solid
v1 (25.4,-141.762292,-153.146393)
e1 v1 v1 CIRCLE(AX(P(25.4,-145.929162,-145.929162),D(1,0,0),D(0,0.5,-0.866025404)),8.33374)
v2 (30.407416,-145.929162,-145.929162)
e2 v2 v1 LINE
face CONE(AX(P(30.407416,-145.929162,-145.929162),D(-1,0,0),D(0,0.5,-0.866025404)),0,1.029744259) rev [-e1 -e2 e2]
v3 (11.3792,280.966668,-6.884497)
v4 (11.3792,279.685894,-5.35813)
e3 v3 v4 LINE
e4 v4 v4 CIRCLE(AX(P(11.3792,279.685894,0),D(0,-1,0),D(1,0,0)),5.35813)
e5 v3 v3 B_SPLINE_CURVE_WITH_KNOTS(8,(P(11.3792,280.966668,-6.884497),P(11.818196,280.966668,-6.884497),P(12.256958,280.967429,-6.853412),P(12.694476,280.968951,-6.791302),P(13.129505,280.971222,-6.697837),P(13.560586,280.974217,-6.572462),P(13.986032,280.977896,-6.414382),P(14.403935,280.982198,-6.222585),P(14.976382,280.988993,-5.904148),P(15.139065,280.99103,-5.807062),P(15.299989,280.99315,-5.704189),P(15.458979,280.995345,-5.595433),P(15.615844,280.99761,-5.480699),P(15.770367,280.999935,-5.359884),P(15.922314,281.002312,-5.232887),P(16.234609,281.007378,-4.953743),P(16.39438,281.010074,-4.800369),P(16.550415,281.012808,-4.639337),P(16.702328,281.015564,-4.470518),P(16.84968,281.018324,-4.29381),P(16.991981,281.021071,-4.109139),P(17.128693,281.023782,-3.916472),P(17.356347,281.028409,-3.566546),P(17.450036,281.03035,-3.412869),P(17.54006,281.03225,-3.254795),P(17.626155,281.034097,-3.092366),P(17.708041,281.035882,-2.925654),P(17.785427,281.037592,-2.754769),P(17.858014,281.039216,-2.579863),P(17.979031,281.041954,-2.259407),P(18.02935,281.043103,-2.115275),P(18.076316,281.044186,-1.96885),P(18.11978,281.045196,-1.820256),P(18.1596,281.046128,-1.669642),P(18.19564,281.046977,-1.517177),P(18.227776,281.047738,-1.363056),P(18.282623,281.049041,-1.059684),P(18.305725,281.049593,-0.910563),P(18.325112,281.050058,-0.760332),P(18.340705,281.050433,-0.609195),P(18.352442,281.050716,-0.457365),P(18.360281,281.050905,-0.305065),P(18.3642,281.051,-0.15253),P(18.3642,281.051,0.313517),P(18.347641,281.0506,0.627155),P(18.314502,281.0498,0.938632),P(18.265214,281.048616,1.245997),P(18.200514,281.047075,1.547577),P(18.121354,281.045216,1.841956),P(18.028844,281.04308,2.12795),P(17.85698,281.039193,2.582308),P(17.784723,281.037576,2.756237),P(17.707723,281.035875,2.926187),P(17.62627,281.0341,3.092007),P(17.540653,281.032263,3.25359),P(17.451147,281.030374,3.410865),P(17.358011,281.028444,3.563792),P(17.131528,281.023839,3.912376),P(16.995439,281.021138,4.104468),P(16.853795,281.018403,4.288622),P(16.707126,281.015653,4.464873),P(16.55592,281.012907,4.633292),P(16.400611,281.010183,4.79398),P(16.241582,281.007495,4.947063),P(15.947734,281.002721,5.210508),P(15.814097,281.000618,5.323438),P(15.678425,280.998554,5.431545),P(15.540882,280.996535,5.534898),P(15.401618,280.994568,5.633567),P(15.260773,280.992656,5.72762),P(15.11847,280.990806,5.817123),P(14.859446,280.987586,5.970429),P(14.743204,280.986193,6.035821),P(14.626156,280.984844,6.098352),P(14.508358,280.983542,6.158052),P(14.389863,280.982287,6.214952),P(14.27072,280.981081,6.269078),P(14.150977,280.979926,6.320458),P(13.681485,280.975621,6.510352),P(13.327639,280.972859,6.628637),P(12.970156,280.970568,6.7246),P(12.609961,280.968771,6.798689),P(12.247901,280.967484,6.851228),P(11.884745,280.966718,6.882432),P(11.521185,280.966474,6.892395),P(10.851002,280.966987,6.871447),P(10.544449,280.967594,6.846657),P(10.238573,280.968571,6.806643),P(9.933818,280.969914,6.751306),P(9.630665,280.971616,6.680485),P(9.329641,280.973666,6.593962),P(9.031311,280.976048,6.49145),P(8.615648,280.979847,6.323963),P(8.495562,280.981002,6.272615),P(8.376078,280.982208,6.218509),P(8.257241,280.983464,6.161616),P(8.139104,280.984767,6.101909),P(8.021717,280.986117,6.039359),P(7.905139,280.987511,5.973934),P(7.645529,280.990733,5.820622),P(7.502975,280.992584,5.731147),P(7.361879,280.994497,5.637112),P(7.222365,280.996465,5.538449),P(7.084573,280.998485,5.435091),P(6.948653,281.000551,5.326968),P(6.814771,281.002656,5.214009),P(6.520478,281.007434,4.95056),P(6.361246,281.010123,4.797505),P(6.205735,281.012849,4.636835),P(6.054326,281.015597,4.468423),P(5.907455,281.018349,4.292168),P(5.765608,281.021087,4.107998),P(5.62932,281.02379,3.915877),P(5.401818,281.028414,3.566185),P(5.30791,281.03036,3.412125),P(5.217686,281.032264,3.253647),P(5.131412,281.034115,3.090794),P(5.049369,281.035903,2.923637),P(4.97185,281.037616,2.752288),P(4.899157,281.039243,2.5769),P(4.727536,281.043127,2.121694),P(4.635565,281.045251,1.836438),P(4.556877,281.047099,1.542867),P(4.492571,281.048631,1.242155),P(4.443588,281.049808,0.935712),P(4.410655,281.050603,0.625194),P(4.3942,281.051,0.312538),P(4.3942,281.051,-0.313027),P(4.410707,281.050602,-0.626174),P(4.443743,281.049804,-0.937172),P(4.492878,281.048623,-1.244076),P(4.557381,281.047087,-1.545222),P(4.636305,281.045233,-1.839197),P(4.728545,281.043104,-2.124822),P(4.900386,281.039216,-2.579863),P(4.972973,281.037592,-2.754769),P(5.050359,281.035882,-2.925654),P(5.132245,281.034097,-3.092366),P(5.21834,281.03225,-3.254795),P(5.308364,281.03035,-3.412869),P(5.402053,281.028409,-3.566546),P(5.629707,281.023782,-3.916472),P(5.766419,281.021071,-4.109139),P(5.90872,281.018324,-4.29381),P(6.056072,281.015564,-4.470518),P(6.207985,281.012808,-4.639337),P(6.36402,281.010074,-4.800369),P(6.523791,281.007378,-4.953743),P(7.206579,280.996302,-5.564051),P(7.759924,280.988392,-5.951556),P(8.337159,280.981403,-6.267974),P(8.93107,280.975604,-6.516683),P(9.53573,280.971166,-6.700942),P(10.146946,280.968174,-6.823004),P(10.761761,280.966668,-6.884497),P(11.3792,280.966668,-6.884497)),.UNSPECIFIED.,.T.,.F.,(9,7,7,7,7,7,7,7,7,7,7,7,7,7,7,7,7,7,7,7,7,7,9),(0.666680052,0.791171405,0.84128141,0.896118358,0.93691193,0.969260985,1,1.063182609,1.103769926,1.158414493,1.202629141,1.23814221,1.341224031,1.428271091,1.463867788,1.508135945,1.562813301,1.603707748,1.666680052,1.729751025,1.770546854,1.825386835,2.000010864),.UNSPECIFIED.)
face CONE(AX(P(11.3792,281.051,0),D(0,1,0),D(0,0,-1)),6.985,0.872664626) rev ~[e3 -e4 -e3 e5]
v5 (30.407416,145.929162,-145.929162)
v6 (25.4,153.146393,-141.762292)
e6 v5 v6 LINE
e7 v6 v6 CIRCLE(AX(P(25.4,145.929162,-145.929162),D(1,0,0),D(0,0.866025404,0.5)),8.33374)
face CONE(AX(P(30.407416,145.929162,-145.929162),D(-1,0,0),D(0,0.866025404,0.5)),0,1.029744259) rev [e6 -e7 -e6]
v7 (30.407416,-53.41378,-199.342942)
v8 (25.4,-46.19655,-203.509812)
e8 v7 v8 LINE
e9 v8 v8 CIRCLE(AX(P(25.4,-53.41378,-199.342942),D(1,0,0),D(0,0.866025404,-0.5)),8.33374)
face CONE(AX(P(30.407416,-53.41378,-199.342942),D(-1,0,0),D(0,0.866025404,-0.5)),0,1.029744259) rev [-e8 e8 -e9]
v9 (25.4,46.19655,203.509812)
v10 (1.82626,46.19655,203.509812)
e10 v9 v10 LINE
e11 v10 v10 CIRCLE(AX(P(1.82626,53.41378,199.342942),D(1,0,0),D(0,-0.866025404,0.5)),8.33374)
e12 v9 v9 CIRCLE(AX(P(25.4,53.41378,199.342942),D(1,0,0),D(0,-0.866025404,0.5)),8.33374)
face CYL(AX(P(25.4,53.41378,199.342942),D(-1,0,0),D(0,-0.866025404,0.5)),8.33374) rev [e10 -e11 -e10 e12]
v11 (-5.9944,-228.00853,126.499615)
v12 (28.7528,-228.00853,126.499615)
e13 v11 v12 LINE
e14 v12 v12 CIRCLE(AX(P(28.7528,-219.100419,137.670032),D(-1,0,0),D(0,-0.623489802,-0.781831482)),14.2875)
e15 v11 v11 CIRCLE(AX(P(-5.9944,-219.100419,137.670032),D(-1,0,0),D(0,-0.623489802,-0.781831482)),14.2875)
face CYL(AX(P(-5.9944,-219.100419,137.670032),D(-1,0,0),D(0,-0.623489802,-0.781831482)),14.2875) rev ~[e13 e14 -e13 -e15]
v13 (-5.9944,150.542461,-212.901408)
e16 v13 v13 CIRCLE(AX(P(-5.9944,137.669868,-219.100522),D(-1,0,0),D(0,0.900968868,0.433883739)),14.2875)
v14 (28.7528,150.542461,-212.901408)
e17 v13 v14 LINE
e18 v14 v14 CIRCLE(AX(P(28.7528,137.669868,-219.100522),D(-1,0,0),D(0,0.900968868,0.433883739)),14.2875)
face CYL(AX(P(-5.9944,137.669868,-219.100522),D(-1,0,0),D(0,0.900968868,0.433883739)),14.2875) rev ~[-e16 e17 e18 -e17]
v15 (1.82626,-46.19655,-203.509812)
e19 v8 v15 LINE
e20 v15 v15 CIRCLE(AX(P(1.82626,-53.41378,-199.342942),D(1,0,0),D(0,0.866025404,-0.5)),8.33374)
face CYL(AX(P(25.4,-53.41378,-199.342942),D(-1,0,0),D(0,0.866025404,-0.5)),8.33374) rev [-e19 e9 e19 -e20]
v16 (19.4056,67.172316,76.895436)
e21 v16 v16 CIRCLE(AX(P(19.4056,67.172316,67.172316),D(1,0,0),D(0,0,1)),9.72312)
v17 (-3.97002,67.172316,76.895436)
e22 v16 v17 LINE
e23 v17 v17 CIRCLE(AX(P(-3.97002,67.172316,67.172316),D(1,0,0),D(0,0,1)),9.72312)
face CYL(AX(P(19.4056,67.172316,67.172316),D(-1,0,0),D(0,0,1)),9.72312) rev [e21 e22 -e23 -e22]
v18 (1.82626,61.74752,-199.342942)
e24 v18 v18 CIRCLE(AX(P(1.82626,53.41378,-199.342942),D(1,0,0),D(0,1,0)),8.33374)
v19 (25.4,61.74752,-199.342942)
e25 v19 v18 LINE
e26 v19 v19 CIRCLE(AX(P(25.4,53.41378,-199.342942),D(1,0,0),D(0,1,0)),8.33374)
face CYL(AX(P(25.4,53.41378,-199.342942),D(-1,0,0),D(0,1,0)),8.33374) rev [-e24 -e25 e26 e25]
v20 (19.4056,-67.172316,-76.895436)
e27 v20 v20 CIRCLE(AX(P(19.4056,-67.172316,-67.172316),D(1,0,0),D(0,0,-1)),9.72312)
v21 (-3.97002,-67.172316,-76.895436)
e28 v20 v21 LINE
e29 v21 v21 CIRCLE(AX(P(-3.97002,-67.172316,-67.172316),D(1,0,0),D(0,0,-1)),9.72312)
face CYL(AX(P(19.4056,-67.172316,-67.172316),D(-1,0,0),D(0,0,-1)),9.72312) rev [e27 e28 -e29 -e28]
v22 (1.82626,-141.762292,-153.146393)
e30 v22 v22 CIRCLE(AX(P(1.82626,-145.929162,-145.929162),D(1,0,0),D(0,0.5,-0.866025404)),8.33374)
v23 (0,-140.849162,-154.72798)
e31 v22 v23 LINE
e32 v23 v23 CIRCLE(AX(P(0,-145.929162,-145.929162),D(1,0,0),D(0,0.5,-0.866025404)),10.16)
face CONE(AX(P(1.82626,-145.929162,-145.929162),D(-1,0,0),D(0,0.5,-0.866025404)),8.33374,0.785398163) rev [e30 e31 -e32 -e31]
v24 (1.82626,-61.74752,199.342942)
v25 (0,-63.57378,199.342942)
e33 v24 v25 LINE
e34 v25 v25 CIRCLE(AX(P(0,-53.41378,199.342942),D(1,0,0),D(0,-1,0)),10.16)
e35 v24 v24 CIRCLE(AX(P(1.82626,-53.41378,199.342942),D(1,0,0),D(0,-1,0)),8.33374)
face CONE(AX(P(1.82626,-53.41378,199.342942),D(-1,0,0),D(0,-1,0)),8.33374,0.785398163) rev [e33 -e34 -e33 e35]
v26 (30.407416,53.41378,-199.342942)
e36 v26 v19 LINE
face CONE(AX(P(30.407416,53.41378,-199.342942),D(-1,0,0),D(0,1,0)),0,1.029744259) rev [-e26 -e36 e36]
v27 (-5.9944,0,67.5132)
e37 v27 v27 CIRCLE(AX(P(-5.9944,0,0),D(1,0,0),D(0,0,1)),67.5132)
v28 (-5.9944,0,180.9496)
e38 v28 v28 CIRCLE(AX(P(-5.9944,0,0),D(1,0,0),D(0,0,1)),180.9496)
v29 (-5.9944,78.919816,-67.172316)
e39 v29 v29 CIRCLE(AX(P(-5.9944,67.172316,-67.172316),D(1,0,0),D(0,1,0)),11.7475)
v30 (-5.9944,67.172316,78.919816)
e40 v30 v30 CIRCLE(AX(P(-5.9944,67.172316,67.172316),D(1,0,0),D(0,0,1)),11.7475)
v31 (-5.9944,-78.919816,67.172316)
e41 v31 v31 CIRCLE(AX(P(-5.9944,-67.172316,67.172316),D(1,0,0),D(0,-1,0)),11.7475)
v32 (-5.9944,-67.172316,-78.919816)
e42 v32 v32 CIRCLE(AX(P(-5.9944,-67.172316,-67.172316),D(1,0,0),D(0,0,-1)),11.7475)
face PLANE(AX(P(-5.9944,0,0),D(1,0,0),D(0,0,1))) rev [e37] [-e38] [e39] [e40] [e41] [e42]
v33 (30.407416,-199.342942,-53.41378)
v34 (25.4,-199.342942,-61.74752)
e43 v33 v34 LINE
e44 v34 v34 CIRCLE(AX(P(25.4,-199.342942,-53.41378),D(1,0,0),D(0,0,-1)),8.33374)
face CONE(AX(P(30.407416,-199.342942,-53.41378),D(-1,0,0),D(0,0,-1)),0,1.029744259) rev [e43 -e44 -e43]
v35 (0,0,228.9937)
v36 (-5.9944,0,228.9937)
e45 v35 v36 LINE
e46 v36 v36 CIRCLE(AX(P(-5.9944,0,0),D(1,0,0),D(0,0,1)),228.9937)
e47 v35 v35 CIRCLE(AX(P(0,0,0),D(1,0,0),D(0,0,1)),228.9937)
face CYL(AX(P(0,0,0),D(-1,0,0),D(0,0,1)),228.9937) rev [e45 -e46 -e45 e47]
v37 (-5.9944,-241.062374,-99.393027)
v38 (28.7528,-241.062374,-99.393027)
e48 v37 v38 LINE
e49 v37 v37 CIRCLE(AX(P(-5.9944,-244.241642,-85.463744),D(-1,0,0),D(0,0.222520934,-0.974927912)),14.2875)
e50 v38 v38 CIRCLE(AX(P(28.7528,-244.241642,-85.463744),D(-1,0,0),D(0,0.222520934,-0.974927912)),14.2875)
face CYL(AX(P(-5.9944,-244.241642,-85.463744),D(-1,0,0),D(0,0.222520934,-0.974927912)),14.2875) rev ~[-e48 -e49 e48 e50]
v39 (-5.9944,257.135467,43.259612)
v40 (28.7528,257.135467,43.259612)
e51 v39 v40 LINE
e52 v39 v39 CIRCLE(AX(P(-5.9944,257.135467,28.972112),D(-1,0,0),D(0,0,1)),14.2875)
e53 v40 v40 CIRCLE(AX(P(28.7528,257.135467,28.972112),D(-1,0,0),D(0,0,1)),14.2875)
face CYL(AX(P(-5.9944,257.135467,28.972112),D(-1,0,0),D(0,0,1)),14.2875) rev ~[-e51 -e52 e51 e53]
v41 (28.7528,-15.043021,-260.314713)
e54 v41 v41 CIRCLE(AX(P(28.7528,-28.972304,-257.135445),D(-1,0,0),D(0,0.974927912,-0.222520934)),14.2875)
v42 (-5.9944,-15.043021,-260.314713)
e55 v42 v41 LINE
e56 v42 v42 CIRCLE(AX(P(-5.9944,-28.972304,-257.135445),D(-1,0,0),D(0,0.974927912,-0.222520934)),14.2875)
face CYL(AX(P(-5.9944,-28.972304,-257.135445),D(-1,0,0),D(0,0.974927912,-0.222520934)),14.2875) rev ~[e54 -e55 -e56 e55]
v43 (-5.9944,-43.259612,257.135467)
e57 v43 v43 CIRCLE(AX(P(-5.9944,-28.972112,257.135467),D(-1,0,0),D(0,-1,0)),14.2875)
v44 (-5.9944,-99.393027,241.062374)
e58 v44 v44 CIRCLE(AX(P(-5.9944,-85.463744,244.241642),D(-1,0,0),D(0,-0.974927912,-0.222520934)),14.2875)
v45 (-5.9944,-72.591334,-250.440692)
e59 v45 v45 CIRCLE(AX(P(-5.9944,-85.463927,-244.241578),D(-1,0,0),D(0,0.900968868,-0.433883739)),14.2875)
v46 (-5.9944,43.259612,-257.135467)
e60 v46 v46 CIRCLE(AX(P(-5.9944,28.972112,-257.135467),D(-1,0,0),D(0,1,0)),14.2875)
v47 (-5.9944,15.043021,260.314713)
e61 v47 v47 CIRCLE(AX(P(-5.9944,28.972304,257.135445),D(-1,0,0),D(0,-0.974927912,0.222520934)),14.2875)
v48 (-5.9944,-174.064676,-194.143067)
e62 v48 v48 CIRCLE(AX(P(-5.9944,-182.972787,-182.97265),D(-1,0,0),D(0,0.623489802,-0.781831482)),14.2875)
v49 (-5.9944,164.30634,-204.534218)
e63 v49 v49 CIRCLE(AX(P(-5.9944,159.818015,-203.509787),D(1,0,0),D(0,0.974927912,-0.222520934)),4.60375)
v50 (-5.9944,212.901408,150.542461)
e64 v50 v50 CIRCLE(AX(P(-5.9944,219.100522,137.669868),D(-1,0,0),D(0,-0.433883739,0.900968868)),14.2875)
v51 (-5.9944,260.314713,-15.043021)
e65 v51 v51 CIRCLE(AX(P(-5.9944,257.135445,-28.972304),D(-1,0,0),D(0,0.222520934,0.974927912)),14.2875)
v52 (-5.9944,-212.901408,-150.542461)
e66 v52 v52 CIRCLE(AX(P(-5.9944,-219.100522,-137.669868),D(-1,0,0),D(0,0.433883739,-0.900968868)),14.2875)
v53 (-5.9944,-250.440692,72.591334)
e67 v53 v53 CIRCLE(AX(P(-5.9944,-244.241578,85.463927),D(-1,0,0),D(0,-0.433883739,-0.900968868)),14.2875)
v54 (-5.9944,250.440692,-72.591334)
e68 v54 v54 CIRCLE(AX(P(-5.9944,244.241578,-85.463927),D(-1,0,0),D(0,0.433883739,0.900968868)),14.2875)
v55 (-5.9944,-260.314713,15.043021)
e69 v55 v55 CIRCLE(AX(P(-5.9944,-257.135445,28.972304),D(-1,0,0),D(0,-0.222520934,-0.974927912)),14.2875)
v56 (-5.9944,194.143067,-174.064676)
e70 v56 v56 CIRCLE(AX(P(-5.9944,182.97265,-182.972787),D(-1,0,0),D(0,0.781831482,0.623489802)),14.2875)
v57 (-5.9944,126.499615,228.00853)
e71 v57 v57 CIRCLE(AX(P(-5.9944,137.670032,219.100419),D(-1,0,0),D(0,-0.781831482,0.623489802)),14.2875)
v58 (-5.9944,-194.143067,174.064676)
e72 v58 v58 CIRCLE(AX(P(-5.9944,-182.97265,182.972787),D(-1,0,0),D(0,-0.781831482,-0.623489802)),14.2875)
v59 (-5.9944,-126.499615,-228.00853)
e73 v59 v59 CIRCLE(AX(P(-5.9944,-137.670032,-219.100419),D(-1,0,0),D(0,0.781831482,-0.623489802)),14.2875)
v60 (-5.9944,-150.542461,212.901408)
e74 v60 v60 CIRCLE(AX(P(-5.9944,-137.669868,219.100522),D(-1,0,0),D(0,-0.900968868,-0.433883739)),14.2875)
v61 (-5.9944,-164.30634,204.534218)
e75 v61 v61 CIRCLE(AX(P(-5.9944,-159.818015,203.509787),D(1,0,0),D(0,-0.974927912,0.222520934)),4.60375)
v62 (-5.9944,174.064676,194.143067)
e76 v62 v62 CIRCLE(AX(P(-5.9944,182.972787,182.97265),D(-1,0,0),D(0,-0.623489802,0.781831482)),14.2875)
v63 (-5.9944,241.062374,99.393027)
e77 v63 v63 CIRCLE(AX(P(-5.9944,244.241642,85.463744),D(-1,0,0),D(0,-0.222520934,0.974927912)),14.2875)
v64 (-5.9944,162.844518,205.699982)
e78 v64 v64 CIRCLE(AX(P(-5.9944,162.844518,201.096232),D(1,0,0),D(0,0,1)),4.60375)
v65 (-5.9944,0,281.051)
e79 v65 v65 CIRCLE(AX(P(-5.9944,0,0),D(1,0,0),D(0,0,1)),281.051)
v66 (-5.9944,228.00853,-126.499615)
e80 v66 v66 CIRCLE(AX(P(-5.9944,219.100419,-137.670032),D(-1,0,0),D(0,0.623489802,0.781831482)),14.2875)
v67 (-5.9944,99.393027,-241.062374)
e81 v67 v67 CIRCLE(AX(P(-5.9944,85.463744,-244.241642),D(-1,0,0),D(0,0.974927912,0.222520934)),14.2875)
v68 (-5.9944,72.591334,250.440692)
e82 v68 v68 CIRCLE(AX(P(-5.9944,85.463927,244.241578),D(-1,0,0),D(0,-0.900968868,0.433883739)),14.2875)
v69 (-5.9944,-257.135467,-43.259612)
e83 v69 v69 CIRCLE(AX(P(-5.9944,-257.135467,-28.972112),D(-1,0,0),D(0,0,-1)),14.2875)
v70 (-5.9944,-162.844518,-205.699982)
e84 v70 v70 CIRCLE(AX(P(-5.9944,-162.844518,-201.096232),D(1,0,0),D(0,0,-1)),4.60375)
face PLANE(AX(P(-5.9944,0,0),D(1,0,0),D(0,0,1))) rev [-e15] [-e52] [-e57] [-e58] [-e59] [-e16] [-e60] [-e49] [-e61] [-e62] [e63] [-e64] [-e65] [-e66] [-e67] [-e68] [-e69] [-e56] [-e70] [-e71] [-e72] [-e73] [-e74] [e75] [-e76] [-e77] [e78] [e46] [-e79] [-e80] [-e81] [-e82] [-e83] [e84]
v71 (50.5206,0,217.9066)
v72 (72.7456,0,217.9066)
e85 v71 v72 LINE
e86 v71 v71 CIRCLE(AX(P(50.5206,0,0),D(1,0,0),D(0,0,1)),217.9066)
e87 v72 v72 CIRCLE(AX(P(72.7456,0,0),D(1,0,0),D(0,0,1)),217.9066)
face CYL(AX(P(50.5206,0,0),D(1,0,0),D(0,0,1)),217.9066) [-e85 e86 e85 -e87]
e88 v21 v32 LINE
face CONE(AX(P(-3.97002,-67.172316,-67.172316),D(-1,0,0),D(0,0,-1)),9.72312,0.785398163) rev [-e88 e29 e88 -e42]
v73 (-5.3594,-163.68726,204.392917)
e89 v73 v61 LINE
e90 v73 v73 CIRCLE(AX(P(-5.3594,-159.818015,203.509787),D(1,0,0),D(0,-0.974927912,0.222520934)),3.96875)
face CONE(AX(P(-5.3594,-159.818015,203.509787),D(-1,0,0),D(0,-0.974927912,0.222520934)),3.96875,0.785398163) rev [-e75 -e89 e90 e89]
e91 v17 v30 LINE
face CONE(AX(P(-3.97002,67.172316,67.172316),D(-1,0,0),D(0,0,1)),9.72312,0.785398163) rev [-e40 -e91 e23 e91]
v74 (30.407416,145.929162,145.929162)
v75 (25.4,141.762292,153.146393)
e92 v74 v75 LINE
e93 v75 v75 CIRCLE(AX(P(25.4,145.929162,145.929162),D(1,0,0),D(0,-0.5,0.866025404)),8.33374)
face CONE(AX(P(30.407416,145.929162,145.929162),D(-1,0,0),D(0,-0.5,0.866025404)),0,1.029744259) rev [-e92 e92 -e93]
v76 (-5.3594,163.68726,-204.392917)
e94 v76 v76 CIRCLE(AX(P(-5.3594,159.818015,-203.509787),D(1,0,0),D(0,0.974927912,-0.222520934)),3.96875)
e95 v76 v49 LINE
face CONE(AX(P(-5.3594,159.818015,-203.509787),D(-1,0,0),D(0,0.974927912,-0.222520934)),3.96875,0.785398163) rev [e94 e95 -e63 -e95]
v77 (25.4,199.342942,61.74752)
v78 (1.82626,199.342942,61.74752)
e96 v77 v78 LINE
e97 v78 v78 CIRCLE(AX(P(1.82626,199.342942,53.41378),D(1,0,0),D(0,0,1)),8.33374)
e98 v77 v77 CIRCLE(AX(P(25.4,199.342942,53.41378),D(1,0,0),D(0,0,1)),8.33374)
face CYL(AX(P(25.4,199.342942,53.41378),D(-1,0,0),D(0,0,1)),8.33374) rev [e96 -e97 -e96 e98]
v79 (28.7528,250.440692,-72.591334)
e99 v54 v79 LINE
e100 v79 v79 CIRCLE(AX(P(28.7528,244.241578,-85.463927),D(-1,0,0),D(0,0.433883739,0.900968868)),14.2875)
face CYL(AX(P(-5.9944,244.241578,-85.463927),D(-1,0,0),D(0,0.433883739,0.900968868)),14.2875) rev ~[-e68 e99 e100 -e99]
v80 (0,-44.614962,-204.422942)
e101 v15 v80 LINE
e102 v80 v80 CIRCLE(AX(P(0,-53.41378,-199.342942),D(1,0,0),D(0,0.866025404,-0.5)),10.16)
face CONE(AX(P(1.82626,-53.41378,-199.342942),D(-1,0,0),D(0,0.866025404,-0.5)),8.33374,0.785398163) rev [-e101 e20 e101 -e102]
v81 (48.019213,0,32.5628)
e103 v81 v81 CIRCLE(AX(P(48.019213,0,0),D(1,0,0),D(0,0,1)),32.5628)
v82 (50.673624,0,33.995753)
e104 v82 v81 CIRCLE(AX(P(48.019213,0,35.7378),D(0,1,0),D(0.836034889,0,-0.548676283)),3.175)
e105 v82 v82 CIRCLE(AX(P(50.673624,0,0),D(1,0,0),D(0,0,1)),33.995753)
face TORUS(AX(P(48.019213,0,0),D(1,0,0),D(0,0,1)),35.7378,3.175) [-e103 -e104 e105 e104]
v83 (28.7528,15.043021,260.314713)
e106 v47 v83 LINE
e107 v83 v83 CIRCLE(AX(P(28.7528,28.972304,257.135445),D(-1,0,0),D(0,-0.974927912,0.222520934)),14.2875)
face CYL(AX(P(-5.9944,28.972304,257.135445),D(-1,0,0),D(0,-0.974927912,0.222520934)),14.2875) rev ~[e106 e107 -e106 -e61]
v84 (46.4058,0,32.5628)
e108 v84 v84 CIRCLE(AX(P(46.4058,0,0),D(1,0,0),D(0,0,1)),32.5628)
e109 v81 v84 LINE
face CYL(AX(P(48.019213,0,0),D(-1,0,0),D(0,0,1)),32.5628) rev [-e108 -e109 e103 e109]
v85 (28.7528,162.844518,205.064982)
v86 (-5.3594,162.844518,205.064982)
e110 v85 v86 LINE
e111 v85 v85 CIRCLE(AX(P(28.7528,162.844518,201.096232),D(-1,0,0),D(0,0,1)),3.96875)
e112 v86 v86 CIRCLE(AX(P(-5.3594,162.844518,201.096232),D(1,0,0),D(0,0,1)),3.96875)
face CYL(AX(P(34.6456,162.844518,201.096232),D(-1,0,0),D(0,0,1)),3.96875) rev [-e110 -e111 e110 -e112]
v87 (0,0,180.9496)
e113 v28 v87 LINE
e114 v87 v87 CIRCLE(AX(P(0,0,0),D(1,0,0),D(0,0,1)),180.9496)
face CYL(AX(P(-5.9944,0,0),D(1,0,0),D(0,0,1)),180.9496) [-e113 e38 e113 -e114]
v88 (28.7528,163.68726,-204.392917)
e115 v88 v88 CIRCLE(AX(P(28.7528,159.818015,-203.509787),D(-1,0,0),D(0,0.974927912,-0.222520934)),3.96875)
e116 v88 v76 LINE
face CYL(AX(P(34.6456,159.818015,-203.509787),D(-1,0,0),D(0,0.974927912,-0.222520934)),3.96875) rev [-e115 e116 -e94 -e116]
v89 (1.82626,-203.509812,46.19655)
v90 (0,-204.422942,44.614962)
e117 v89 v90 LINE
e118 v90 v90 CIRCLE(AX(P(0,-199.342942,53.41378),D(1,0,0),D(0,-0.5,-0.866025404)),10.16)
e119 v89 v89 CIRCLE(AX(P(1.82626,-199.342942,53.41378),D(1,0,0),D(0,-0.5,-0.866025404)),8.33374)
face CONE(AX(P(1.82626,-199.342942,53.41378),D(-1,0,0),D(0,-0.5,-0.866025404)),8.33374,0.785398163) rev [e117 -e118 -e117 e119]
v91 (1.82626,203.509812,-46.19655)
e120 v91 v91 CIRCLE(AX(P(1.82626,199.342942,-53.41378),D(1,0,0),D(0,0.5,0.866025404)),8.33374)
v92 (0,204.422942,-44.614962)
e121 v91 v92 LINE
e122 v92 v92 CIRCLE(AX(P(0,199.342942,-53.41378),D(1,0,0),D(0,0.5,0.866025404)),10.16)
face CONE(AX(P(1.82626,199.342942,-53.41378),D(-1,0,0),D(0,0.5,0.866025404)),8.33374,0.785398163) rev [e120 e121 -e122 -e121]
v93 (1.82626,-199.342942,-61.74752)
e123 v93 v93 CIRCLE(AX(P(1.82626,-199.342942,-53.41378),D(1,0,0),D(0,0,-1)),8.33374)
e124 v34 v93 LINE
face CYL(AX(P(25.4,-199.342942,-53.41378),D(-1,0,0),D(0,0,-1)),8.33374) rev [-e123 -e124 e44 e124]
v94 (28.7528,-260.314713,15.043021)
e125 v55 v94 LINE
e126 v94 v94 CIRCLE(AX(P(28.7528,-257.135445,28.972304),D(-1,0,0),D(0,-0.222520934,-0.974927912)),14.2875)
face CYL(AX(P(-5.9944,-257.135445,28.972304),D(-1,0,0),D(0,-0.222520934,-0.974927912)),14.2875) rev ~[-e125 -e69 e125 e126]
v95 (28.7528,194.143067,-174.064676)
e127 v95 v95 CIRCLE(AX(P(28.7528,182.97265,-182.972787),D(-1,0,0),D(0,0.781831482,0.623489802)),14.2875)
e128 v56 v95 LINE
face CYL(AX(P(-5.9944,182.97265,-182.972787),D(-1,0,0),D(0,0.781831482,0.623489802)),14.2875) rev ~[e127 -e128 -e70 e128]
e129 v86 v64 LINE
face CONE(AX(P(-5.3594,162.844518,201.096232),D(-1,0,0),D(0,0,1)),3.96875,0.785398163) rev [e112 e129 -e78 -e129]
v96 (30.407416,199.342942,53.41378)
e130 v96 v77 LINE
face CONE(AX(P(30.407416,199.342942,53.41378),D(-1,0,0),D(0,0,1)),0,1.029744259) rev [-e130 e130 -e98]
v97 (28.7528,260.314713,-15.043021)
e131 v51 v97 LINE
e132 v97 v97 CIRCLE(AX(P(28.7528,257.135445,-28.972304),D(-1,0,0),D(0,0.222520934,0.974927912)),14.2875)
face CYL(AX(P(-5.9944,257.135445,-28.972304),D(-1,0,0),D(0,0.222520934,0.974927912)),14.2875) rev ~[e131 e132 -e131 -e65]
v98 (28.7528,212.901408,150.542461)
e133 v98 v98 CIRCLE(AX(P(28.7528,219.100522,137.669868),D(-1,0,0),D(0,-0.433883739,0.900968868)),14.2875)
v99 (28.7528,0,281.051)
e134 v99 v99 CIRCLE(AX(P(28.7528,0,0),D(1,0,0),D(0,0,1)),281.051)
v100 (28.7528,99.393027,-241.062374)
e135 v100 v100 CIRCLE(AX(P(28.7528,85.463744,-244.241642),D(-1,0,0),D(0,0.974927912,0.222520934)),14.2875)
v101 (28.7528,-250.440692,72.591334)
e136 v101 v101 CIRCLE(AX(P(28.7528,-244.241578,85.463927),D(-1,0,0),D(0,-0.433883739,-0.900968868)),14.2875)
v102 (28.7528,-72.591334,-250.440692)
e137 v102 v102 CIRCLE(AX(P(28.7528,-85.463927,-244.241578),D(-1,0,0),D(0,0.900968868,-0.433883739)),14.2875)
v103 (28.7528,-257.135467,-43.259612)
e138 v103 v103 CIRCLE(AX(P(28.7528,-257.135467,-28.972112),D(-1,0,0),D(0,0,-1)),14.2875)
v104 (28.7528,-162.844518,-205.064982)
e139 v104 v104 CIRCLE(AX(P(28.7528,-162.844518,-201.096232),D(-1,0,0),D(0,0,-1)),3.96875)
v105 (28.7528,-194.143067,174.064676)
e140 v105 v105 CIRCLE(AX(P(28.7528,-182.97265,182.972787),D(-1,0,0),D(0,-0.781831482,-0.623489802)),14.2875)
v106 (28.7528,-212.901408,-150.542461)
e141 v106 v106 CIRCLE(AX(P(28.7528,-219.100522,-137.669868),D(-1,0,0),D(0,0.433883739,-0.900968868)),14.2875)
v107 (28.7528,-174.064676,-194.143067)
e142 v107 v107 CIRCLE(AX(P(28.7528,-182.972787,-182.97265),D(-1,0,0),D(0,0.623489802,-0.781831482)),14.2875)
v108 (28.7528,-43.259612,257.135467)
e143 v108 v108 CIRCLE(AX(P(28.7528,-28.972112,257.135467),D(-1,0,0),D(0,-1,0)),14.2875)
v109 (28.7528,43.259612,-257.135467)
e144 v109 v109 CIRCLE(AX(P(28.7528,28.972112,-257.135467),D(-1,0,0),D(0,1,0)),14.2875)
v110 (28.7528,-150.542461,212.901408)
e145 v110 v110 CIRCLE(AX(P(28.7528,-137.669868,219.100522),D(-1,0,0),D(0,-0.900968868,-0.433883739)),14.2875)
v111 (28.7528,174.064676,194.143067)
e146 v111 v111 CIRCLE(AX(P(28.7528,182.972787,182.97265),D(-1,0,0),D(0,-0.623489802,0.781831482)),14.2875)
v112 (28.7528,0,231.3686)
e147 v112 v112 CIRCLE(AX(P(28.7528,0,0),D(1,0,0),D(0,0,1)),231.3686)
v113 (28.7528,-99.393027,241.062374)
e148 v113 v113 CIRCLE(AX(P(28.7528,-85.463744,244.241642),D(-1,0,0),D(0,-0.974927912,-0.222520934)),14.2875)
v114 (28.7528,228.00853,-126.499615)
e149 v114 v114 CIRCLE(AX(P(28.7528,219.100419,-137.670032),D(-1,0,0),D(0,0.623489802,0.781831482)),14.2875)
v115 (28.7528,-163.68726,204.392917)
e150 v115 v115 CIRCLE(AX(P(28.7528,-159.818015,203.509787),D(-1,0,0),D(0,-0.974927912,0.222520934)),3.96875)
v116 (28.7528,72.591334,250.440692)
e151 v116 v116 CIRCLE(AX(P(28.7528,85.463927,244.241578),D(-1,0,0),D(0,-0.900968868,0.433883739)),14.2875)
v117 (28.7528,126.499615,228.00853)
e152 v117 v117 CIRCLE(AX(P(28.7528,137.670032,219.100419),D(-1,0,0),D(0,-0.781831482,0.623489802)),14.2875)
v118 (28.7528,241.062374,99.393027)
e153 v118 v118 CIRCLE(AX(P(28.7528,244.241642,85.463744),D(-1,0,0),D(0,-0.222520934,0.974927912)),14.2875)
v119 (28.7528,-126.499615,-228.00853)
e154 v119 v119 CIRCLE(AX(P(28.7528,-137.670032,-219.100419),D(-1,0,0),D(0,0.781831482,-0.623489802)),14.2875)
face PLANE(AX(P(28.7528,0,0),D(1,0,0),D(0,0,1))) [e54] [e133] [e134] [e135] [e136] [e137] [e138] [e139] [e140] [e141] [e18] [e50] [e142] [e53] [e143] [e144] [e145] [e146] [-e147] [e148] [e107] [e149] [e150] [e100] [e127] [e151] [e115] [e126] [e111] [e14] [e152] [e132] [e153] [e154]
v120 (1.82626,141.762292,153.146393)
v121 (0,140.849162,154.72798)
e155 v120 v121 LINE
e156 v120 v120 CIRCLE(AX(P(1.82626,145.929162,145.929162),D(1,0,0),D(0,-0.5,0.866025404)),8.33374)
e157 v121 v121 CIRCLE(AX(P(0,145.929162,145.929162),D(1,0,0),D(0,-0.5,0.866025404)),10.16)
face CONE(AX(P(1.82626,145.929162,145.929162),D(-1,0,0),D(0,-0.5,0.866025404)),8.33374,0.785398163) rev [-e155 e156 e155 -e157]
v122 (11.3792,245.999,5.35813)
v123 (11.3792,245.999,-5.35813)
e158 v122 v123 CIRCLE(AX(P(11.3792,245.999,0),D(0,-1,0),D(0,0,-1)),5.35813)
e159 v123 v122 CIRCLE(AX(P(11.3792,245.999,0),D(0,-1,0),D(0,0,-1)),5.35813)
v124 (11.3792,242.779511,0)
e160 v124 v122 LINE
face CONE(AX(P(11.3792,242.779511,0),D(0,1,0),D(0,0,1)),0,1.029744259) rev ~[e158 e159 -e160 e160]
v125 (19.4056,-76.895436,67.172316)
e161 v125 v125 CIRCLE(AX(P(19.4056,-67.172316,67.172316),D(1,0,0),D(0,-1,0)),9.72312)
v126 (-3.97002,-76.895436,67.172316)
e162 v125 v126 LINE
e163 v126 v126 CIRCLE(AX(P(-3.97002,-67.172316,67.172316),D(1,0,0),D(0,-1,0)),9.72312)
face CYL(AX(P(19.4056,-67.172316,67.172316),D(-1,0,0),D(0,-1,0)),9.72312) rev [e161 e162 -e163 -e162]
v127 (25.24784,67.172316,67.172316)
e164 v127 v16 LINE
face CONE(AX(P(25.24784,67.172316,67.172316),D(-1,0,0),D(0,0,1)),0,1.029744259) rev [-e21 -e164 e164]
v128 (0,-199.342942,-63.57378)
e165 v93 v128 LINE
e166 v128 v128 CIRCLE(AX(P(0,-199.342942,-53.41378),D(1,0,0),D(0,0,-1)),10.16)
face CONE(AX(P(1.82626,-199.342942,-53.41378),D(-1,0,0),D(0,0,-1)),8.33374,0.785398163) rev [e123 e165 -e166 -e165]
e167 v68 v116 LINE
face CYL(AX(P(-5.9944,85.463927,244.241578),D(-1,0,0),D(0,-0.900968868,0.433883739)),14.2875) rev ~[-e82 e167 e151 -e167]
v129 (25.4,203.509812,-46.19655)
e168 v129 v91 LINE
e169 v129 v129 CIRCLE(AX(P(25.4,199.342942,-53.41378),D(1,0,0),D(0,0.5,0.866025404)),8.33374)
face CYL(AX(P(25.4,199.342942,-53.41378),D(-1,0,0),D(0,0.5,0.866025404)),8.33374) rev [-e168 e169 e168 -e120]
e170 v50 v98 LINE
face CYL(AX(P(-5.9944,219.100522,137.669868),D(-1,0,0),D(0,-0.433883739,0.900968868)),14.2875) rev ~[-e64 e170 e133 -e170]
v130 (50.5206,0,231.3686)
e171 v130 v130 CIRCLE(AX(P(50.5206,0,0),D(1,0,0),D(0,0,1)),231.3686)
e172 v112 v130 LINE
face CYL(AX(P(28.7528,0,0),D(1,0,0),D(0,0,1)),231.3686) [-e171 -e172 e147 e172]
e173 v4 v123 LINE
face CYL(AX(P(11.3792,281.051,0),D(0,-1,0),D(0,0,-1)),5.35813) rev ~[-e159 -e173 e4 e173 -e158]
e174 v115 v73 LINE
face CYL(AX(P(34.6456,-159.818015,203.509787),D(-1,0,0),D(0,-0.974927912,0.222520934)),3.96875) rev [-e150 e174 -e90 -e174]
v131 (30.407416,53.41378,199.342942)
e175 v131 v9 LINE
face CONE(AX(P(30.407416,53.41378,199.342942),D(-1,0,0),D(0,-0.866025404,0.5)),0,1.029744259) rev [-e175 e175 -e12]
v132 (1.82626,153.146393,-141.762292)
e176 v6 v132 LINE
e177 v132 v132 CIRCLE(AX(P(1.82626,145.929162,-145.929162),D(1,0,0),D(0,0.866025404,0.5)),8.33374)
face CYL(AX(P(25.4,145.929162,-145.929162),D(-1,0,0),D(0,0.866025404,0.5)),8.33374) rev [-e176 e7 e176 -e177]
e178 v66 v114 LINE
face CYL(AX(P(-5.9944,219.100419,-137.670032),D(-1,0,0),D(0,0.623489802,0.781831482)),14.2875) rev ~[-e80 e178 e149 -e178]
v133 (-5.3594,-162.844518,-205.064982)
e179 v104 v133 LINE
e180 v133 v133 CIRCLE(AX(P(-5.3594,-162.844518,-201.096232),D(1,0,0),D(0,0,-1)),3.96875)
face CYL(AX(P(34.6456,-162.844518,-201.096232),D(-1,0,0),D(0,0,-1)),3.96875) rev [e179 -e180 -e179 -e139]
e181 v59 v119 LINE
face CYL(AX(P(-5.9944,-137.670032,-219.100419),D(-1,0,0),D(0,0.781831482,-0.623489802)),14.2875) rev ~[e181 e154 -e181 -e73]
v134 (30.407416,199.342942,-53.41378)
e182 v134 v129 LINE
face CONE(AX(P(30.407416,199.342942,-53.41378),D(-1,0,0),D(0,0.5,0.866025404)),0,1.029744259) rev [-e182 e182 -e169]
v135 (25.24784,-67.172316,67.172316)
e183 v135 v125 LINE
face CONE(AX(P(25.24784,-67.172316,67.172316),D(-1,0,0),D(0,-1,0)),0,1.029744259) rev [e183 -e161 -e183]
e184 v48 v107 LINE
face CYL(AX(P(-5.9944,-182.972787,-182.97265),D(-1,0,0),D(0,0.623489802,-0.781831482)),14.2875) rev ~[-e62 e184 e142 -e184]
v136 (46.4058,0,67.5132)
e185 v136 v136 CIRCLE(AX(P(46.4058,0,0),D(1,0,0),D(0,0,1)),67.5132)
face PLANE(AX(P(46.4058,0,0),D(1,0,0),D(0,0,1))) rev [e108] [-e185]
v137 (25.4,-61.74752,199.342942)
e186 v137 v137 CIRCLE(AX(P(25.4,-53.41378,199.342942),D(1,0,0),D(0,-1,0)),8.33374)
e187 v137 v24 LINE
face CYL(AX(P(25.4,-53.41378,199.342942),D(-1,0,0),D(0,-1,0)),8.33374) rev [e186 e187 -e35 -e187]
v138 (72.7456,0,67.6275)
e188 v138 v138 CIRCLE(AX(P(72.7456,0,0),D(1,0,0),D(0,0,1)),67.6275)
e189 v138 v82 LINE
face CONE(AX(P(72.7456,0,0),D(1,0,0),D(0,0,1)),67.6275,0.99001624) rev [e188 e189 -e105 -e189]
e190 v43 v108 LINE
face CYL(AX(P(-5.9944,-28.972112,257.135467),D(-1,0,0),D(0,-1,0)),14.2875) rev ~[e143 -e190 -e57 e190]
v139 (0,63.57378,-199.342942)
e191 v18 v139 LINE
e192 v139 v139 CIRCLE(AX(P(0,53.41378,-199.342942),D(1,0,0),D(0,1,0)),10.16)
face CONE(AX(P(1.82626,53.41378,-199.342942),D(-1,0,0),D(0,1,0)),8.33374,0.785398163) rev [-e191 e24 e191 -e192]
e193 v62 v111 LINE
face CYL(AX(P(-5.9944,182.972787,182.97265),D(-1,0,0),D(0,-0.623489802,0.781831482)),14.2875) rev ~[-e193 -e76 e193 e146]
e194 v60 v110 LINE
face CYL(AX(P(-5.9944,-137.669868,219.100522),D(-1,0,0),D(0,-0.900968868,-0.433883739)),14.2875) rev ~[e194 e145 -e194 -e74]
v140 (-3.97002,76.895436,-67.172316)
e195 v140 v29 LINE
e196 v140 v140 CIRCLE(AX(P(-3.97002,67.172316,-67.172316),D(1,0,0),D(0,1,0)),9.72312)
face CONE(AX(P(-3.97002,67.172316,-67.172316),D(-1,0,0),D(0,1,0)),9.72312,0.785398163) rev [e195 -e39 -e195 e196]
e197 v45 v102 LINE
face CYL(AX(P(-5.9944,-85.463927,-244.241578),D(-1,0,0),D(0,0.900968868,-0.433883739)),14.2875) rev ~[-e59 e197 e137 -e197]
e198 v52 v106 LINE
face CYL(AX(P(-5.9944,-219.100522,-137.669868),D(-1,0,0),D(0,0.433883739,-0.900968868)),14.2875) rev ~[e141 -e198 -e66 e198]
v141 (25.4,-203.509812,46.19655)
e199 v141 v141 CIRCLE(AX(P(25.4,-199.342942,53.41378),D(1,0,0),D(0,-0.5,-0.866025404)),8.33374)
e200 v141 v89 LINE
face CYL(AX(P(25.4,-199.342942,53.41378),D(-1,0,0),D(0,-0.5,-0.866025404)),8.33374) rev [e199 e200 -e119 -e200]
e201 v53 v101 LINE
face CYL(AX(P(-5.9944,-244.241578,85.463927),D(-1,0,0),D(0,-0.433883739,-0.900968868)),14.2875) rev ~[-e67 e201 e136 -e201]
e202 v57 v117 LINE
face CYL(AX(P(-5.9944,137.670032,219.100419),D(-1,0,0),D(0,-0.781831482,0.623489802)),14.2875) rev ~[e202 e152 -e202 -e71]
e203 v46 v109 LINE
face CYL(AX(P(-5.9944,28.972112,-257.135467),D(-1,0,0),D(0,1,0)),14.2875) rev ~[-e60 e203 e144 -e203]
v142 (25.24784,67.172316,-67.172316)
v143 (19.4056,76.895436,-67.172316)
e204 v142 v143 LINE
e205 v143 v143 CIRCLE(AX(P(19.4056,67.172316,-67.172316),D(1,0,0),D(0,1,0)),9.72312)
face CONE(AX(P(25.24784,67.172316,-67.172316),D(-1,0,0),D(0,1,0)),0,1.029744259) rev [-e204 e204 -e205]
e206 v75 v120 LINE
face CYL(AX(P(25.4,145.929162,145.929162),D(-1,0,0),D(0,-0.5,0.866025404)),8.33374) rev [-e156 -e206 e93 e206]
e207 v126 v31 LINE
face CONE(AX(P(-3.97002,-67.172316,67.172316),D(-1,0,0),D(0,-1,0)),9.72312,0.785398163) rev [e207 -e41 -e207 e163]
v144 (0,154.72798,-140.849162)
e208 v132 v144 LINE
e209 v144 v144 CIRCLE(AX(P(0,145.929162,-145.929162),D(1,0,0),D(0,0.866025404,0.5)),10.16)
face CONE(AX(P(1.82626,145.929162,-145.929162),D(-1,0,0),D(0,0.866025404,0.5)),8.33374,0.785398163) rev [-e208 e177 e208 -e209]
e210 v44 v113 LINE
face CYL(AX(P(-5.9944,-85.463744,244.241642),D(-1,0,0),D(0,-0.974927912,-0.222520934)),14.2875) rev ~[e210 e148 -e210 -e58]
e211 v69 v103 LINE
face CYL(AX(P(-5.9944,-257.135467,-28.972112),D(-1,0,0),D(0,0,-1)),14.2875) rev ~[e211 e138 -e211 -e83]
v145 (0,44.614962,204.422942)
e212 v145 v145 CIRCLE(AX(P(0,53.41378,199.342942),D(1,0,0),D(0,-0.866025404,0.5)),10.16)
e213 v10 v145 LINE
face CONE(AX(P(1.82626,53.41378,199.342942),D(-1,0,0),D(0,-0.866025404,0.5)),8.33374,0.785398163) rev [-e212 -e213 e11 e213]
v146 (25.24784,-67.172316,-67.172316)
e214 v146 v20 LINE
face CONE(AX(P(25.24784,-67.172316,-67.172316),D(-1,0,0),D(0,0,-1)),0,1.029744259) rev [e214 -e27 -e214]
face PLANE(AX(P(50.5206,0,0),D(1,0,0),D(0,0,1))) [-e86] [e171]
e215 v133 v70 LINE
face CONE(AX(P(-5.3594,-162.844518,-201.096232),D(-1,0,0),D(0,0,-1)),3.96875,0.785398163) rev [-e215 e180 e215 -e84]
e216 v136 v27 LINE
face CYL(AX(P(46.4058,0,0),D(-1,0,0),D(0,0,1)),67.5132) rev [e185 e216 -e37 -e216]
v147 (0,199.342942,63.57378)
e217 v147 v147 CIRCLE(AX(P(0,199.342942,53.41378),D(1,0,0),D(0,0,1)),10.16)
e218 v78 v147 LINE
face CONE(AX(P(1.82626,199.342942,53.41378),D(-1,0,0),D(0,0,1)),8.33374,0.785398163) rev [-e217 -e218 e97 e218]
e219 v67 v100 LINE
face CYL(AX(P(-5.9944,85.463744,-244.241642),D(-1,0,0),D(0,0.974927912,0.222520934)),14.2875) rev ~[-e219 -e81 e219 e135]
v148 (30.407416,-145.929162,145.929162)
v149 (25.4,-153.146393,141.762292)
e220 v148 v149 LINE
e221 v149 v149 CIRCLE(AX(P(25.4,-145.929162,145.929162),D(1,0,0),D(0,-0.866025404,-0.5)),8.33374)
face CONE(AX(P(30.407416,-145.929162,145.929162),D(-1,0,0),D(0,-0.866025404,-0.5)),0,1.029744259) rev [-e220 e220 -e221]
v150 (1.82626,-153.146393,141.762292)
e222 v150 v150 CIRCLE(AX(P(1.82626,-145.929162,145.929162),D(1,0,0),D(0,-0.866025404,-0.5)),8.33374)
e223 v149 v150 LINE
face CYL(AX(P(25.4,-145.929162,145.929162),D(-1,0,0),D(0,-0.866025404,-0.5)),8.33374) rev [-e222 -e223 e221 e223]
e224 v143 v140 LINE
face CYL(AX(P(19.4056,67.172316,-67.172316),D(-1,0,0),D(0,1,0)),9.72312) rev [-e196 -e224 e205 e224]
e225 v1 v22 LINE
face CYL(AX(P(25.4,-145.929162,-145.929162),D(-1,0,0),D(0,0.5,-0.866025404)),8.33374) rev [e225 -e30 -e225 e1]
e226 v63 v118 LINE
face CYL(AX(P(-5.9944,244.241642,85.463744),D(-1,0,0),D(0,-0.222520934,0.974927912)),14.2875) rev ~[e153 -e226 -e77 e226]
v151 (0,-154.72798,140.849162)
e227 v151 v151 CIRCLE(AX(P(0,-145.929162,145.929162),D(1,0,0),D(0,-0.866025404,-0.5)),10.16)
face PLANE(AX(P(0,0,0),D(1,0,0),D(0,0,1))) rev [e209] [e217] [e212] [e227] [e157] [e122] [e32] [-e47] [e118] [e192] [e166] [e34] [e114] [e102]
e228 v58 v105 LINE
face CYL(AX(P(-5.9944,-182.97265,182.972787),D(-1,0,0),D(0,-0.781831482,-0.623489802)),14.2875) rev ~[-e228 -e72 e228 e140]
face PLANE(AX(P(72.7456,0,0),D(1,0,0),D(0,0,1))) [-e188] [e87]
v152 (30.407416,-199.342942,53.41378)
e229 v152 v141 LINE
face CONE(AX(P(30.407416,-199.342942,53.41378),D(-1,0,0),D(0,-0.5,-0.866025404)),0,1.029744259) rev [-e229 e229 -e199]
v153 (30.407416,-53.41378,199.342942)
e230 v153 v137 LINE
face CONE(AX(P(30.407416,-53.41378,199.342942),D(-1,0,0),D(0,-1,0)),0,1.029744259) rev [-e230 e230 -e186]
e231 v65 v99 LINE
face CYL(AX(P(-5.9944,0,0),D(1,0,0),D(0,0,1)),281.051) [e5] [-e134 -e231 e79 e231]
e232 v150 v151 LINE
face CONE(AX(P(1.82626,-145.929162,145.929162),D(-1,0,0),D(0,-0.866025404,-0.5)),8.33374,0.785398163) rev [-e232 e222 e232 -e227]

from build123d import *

# Parameters (mm, degrees)
SKETCH4_R                         = 14.2875
CUT_EXTRUDE1_DEPTH                = 406.190469782
CIRPATTERN2_COUNT                 = 28
CIRPATTERN3_COUNT                 = 12
CIRPATTERN4_COUNT                 = 4
CIRPATTERN5_COUNT                 = 56
F_1_2_13_TAPPED_HOLE4_D           = 10.71626
F_1_2_13_TAPPED_HOLE4_DEPTH       = 35.052
F_1_2_13_TAPPED_HOLE4_CSINK_D     = 13.97
F_1_2_13_TAPPED_HOLE4_CSINK_ANGLE = 100
F_1_2_13_TAPPED_HOLE4_TIP         = 3.219489309


with BuildPart() as part:
    # Sketch1 → Revolve1 (revolve)
    with BuildSketch(Plane.XY, mode=Mode.PRIVATE) as revolve1_sk:
        with BuildLine():
            Line((-5.9944, 67.5132), (-5.9944, 180.9496))
            Line((-5.9944, 180.9496), (0, 180.9496))
            Line((0, 180.9496), (0, 228.9937))
            Line((0, 228.9937), (-5.9944, 228.9937))
            Line((-5.9944, 228.9937), (-5.9944, 281.051))
            Line((-5.9944, 281.051), (28.7528, 281.051))
            Line((28.7528, 281.051), (28.7528, 231.3686))
            Line((28.7528, 231.3686), (50.5206, 231.3686))
            Line((50.5206, 231.3686), (50.5206, 217.9066))
            Line((50.5206, 217.9066), (72.7456, 217.9066))
            Line((72.7456, 217.9066), (72.7456, 67.6275))
            Line((72.7456, 67.6275), (50.673623931, 33.9957528))
            ThreePointArc((50.673623931, 33.9957528), (49.527461337, 32.943911593), (48.019213158, 32.5628))
            Line((48.019213158, 32.5628), (46.4058, 32.5628))
            Line((46.4058, 32.5628), (46.4058, 67.5132))
            Line((46.4058, 67.5132), (-5.9944, 67.5132))
        make_face()
    revolve(revolve1_sk.sketch.rotate(Axis((0, 0, 0), (1, 0, 0)), 90), axis=Axis((0, 0, 0), (1, 0, 0)))

    # Sketch4 → Cut-Extrude1 (cut, through all)
    with BuildSketch(Plane.ZY.offset(5.9944)):
        with Locations((28.972111579, 257.135466548)):
            Circle(SKETCH4_R)
    cut_extrude1 = extrude(amount=-CUT_EXTRUDE1_DEPTH, mode=Mode.SUBTRACT)

    # CirPattern2: Cut-Extrude1 ×28 about axis
    cirpattern2_axis = Axis((0, 0, 0), (1, 0, 0))
    for i in range(1, CIRPATTERN2_COUNT):
        add(cut_extrude1.rotate(cirpattern2_axis, i * 360 / CIRPATTERN2_COUNT), mode=Mode.SUBTRACT)

    # Sketch8 → 3/4-10 Tapped Hole1 (revolve, cut)
    with BuildSketch(Plane(origin=(0, 199.3429424, 53.413780433), x_dir=(0, 0, 1), z_dir=(0, 1, 0))):
        Polygon((0, 0), (0, 30.407416175), (8.33374, 25.4), (8.33374, 1.82626), (10.16, 0), align=None)
    f_3_4_10_tapped_hole1 = revolve(axis=Axis((-6.35, 199.3429424, 53.413780433), (1, 0, 0)), mode=Mode.SUBTRACT)

    # CirPattern3: 3/4-10 Tapped Hole1 ×12 about axis
    cirpattern3_axis = Axis((0, 0, 0), (1, 0, 0))
    for i in range(1, CIRPATTERN3_COUNT):
        add(f_3_4_10_tapped_hole1.rotate(cirpattern3_axis, i * 360 / CIRPATTERN3_COUNT), mode=Mode.SUBTRACT)

    # Sketch10 → 7/8-9 Tapped Hole1 (revolve, cut)
    with BuildSketch(Plane(origin=(-5.9944, 67.172315786, 67.172315786), x_dir=(0, 0, 1), z_dir=(0, 1, 0))):
        Polygon((0, 0), (0, 31.242239902), (9.72312, 25.4), (9.72312, 2.02438), (11.7475, 0), align=None)
    f_7_8_9_tapped_hole1 = revolve(axis=Axis((-12.3444, 67.172315786, 67.172315786), (1, 0, 0)), mode=Mode.SUBTRACT)

    # CirPattern4: 7/8-9 Tapped Hole1 ×4 about axis
    cirpattern4_axis = Axis((0, 0, 0), (1, 0, 0))
    for i in range(1, CIRPATTERN4_COUNT):
        add(f_7_8_9_tapped_hole1.rotate(cirpattern4_axis, i * 360 / CIRPATTERN4_COUNT), mode=Mode.SUBTRACT)

    # Sketch21 → Tap Drill for 3/8-16 Tap1 (revolve, cut)
    with BuildSketch(Plane(origin=(-5.9944, 162.844517689, 201.096231852), x_dir=(0, 0, 1), z_dir=(0, 1, 0))):
        Polygon((0, 0), (0, 43.024665582), (3.96875, 40.64), (3.96875, 0.635), (4.60375, 0), align=None)
    tap_drill_for_3_8_16_tap1 = revolve(axis=Axis((-12.3444, 162.844517689, 201.096231852), (1, 0, 0)), mode=Mode.SUBTRACT)

    # CirPattern5: Tap Drill for 3/8-16 Tap1 ×56 about axis, 52 skipped
    cirpattern5_axis = Axis((0, 0, 0), (-1, 0, 0))
    add([tap_drill_for_3_8_16_tap1.rotate(cirpattern5_axis, i * 360 / CIRPATTERN5_COUNT) for i in range(1, CIRPATTERN5_COUNT) if i not in (1, 2, 3, 4, 5, 6, 7, 8, 9, 10, 11, 12, 13, 14, 15, 17, 18, 19, 20, 21, 22, 23, 24, 25, 26, 27, 29, 30, 31, 32, 33, 34, 35, 36, 37, 38, 39, 40, 41, 42, 43, 45, 46, 47, 48, 49, 50, 51, 52, 53, 54, 55)], mode=Mode.SUBTRACT)

    # 1/2-13 Tapped Hole4
    with Locations(Plane(origin=(11.3792, 281.051, 0), x_dir=(0, 0, 1), z_dir=(0, 1, 0))):
        with Locations((0, 0)):
            CounterSinkHole(F_1_2_13_TAPPED_HOLE4_D / 2, F_1_2_13_TAPPED_HOLE4_CSINK_D / 2, depth=F_1_2_13_TAPPED_HOLE4_DEPTH, counter_sink_angle=F_1_2_13_TAPPED_HOLE4_CSINK_ANGLE)
            with Locations((0, 0, -(F_1_2_13_TAPPED_HOLE4_DEPTH + F_1_2_13_TAPPED_HOLE4_TIP / 2))):  # 118° drill point
                Cone(0, F_1_2_13_TAPPED_HOLE4_D / 2, F_1_2_13_TAPPED_HOLE4_TIP, mode=Mode.SUBTRACT)


solid = part.part
